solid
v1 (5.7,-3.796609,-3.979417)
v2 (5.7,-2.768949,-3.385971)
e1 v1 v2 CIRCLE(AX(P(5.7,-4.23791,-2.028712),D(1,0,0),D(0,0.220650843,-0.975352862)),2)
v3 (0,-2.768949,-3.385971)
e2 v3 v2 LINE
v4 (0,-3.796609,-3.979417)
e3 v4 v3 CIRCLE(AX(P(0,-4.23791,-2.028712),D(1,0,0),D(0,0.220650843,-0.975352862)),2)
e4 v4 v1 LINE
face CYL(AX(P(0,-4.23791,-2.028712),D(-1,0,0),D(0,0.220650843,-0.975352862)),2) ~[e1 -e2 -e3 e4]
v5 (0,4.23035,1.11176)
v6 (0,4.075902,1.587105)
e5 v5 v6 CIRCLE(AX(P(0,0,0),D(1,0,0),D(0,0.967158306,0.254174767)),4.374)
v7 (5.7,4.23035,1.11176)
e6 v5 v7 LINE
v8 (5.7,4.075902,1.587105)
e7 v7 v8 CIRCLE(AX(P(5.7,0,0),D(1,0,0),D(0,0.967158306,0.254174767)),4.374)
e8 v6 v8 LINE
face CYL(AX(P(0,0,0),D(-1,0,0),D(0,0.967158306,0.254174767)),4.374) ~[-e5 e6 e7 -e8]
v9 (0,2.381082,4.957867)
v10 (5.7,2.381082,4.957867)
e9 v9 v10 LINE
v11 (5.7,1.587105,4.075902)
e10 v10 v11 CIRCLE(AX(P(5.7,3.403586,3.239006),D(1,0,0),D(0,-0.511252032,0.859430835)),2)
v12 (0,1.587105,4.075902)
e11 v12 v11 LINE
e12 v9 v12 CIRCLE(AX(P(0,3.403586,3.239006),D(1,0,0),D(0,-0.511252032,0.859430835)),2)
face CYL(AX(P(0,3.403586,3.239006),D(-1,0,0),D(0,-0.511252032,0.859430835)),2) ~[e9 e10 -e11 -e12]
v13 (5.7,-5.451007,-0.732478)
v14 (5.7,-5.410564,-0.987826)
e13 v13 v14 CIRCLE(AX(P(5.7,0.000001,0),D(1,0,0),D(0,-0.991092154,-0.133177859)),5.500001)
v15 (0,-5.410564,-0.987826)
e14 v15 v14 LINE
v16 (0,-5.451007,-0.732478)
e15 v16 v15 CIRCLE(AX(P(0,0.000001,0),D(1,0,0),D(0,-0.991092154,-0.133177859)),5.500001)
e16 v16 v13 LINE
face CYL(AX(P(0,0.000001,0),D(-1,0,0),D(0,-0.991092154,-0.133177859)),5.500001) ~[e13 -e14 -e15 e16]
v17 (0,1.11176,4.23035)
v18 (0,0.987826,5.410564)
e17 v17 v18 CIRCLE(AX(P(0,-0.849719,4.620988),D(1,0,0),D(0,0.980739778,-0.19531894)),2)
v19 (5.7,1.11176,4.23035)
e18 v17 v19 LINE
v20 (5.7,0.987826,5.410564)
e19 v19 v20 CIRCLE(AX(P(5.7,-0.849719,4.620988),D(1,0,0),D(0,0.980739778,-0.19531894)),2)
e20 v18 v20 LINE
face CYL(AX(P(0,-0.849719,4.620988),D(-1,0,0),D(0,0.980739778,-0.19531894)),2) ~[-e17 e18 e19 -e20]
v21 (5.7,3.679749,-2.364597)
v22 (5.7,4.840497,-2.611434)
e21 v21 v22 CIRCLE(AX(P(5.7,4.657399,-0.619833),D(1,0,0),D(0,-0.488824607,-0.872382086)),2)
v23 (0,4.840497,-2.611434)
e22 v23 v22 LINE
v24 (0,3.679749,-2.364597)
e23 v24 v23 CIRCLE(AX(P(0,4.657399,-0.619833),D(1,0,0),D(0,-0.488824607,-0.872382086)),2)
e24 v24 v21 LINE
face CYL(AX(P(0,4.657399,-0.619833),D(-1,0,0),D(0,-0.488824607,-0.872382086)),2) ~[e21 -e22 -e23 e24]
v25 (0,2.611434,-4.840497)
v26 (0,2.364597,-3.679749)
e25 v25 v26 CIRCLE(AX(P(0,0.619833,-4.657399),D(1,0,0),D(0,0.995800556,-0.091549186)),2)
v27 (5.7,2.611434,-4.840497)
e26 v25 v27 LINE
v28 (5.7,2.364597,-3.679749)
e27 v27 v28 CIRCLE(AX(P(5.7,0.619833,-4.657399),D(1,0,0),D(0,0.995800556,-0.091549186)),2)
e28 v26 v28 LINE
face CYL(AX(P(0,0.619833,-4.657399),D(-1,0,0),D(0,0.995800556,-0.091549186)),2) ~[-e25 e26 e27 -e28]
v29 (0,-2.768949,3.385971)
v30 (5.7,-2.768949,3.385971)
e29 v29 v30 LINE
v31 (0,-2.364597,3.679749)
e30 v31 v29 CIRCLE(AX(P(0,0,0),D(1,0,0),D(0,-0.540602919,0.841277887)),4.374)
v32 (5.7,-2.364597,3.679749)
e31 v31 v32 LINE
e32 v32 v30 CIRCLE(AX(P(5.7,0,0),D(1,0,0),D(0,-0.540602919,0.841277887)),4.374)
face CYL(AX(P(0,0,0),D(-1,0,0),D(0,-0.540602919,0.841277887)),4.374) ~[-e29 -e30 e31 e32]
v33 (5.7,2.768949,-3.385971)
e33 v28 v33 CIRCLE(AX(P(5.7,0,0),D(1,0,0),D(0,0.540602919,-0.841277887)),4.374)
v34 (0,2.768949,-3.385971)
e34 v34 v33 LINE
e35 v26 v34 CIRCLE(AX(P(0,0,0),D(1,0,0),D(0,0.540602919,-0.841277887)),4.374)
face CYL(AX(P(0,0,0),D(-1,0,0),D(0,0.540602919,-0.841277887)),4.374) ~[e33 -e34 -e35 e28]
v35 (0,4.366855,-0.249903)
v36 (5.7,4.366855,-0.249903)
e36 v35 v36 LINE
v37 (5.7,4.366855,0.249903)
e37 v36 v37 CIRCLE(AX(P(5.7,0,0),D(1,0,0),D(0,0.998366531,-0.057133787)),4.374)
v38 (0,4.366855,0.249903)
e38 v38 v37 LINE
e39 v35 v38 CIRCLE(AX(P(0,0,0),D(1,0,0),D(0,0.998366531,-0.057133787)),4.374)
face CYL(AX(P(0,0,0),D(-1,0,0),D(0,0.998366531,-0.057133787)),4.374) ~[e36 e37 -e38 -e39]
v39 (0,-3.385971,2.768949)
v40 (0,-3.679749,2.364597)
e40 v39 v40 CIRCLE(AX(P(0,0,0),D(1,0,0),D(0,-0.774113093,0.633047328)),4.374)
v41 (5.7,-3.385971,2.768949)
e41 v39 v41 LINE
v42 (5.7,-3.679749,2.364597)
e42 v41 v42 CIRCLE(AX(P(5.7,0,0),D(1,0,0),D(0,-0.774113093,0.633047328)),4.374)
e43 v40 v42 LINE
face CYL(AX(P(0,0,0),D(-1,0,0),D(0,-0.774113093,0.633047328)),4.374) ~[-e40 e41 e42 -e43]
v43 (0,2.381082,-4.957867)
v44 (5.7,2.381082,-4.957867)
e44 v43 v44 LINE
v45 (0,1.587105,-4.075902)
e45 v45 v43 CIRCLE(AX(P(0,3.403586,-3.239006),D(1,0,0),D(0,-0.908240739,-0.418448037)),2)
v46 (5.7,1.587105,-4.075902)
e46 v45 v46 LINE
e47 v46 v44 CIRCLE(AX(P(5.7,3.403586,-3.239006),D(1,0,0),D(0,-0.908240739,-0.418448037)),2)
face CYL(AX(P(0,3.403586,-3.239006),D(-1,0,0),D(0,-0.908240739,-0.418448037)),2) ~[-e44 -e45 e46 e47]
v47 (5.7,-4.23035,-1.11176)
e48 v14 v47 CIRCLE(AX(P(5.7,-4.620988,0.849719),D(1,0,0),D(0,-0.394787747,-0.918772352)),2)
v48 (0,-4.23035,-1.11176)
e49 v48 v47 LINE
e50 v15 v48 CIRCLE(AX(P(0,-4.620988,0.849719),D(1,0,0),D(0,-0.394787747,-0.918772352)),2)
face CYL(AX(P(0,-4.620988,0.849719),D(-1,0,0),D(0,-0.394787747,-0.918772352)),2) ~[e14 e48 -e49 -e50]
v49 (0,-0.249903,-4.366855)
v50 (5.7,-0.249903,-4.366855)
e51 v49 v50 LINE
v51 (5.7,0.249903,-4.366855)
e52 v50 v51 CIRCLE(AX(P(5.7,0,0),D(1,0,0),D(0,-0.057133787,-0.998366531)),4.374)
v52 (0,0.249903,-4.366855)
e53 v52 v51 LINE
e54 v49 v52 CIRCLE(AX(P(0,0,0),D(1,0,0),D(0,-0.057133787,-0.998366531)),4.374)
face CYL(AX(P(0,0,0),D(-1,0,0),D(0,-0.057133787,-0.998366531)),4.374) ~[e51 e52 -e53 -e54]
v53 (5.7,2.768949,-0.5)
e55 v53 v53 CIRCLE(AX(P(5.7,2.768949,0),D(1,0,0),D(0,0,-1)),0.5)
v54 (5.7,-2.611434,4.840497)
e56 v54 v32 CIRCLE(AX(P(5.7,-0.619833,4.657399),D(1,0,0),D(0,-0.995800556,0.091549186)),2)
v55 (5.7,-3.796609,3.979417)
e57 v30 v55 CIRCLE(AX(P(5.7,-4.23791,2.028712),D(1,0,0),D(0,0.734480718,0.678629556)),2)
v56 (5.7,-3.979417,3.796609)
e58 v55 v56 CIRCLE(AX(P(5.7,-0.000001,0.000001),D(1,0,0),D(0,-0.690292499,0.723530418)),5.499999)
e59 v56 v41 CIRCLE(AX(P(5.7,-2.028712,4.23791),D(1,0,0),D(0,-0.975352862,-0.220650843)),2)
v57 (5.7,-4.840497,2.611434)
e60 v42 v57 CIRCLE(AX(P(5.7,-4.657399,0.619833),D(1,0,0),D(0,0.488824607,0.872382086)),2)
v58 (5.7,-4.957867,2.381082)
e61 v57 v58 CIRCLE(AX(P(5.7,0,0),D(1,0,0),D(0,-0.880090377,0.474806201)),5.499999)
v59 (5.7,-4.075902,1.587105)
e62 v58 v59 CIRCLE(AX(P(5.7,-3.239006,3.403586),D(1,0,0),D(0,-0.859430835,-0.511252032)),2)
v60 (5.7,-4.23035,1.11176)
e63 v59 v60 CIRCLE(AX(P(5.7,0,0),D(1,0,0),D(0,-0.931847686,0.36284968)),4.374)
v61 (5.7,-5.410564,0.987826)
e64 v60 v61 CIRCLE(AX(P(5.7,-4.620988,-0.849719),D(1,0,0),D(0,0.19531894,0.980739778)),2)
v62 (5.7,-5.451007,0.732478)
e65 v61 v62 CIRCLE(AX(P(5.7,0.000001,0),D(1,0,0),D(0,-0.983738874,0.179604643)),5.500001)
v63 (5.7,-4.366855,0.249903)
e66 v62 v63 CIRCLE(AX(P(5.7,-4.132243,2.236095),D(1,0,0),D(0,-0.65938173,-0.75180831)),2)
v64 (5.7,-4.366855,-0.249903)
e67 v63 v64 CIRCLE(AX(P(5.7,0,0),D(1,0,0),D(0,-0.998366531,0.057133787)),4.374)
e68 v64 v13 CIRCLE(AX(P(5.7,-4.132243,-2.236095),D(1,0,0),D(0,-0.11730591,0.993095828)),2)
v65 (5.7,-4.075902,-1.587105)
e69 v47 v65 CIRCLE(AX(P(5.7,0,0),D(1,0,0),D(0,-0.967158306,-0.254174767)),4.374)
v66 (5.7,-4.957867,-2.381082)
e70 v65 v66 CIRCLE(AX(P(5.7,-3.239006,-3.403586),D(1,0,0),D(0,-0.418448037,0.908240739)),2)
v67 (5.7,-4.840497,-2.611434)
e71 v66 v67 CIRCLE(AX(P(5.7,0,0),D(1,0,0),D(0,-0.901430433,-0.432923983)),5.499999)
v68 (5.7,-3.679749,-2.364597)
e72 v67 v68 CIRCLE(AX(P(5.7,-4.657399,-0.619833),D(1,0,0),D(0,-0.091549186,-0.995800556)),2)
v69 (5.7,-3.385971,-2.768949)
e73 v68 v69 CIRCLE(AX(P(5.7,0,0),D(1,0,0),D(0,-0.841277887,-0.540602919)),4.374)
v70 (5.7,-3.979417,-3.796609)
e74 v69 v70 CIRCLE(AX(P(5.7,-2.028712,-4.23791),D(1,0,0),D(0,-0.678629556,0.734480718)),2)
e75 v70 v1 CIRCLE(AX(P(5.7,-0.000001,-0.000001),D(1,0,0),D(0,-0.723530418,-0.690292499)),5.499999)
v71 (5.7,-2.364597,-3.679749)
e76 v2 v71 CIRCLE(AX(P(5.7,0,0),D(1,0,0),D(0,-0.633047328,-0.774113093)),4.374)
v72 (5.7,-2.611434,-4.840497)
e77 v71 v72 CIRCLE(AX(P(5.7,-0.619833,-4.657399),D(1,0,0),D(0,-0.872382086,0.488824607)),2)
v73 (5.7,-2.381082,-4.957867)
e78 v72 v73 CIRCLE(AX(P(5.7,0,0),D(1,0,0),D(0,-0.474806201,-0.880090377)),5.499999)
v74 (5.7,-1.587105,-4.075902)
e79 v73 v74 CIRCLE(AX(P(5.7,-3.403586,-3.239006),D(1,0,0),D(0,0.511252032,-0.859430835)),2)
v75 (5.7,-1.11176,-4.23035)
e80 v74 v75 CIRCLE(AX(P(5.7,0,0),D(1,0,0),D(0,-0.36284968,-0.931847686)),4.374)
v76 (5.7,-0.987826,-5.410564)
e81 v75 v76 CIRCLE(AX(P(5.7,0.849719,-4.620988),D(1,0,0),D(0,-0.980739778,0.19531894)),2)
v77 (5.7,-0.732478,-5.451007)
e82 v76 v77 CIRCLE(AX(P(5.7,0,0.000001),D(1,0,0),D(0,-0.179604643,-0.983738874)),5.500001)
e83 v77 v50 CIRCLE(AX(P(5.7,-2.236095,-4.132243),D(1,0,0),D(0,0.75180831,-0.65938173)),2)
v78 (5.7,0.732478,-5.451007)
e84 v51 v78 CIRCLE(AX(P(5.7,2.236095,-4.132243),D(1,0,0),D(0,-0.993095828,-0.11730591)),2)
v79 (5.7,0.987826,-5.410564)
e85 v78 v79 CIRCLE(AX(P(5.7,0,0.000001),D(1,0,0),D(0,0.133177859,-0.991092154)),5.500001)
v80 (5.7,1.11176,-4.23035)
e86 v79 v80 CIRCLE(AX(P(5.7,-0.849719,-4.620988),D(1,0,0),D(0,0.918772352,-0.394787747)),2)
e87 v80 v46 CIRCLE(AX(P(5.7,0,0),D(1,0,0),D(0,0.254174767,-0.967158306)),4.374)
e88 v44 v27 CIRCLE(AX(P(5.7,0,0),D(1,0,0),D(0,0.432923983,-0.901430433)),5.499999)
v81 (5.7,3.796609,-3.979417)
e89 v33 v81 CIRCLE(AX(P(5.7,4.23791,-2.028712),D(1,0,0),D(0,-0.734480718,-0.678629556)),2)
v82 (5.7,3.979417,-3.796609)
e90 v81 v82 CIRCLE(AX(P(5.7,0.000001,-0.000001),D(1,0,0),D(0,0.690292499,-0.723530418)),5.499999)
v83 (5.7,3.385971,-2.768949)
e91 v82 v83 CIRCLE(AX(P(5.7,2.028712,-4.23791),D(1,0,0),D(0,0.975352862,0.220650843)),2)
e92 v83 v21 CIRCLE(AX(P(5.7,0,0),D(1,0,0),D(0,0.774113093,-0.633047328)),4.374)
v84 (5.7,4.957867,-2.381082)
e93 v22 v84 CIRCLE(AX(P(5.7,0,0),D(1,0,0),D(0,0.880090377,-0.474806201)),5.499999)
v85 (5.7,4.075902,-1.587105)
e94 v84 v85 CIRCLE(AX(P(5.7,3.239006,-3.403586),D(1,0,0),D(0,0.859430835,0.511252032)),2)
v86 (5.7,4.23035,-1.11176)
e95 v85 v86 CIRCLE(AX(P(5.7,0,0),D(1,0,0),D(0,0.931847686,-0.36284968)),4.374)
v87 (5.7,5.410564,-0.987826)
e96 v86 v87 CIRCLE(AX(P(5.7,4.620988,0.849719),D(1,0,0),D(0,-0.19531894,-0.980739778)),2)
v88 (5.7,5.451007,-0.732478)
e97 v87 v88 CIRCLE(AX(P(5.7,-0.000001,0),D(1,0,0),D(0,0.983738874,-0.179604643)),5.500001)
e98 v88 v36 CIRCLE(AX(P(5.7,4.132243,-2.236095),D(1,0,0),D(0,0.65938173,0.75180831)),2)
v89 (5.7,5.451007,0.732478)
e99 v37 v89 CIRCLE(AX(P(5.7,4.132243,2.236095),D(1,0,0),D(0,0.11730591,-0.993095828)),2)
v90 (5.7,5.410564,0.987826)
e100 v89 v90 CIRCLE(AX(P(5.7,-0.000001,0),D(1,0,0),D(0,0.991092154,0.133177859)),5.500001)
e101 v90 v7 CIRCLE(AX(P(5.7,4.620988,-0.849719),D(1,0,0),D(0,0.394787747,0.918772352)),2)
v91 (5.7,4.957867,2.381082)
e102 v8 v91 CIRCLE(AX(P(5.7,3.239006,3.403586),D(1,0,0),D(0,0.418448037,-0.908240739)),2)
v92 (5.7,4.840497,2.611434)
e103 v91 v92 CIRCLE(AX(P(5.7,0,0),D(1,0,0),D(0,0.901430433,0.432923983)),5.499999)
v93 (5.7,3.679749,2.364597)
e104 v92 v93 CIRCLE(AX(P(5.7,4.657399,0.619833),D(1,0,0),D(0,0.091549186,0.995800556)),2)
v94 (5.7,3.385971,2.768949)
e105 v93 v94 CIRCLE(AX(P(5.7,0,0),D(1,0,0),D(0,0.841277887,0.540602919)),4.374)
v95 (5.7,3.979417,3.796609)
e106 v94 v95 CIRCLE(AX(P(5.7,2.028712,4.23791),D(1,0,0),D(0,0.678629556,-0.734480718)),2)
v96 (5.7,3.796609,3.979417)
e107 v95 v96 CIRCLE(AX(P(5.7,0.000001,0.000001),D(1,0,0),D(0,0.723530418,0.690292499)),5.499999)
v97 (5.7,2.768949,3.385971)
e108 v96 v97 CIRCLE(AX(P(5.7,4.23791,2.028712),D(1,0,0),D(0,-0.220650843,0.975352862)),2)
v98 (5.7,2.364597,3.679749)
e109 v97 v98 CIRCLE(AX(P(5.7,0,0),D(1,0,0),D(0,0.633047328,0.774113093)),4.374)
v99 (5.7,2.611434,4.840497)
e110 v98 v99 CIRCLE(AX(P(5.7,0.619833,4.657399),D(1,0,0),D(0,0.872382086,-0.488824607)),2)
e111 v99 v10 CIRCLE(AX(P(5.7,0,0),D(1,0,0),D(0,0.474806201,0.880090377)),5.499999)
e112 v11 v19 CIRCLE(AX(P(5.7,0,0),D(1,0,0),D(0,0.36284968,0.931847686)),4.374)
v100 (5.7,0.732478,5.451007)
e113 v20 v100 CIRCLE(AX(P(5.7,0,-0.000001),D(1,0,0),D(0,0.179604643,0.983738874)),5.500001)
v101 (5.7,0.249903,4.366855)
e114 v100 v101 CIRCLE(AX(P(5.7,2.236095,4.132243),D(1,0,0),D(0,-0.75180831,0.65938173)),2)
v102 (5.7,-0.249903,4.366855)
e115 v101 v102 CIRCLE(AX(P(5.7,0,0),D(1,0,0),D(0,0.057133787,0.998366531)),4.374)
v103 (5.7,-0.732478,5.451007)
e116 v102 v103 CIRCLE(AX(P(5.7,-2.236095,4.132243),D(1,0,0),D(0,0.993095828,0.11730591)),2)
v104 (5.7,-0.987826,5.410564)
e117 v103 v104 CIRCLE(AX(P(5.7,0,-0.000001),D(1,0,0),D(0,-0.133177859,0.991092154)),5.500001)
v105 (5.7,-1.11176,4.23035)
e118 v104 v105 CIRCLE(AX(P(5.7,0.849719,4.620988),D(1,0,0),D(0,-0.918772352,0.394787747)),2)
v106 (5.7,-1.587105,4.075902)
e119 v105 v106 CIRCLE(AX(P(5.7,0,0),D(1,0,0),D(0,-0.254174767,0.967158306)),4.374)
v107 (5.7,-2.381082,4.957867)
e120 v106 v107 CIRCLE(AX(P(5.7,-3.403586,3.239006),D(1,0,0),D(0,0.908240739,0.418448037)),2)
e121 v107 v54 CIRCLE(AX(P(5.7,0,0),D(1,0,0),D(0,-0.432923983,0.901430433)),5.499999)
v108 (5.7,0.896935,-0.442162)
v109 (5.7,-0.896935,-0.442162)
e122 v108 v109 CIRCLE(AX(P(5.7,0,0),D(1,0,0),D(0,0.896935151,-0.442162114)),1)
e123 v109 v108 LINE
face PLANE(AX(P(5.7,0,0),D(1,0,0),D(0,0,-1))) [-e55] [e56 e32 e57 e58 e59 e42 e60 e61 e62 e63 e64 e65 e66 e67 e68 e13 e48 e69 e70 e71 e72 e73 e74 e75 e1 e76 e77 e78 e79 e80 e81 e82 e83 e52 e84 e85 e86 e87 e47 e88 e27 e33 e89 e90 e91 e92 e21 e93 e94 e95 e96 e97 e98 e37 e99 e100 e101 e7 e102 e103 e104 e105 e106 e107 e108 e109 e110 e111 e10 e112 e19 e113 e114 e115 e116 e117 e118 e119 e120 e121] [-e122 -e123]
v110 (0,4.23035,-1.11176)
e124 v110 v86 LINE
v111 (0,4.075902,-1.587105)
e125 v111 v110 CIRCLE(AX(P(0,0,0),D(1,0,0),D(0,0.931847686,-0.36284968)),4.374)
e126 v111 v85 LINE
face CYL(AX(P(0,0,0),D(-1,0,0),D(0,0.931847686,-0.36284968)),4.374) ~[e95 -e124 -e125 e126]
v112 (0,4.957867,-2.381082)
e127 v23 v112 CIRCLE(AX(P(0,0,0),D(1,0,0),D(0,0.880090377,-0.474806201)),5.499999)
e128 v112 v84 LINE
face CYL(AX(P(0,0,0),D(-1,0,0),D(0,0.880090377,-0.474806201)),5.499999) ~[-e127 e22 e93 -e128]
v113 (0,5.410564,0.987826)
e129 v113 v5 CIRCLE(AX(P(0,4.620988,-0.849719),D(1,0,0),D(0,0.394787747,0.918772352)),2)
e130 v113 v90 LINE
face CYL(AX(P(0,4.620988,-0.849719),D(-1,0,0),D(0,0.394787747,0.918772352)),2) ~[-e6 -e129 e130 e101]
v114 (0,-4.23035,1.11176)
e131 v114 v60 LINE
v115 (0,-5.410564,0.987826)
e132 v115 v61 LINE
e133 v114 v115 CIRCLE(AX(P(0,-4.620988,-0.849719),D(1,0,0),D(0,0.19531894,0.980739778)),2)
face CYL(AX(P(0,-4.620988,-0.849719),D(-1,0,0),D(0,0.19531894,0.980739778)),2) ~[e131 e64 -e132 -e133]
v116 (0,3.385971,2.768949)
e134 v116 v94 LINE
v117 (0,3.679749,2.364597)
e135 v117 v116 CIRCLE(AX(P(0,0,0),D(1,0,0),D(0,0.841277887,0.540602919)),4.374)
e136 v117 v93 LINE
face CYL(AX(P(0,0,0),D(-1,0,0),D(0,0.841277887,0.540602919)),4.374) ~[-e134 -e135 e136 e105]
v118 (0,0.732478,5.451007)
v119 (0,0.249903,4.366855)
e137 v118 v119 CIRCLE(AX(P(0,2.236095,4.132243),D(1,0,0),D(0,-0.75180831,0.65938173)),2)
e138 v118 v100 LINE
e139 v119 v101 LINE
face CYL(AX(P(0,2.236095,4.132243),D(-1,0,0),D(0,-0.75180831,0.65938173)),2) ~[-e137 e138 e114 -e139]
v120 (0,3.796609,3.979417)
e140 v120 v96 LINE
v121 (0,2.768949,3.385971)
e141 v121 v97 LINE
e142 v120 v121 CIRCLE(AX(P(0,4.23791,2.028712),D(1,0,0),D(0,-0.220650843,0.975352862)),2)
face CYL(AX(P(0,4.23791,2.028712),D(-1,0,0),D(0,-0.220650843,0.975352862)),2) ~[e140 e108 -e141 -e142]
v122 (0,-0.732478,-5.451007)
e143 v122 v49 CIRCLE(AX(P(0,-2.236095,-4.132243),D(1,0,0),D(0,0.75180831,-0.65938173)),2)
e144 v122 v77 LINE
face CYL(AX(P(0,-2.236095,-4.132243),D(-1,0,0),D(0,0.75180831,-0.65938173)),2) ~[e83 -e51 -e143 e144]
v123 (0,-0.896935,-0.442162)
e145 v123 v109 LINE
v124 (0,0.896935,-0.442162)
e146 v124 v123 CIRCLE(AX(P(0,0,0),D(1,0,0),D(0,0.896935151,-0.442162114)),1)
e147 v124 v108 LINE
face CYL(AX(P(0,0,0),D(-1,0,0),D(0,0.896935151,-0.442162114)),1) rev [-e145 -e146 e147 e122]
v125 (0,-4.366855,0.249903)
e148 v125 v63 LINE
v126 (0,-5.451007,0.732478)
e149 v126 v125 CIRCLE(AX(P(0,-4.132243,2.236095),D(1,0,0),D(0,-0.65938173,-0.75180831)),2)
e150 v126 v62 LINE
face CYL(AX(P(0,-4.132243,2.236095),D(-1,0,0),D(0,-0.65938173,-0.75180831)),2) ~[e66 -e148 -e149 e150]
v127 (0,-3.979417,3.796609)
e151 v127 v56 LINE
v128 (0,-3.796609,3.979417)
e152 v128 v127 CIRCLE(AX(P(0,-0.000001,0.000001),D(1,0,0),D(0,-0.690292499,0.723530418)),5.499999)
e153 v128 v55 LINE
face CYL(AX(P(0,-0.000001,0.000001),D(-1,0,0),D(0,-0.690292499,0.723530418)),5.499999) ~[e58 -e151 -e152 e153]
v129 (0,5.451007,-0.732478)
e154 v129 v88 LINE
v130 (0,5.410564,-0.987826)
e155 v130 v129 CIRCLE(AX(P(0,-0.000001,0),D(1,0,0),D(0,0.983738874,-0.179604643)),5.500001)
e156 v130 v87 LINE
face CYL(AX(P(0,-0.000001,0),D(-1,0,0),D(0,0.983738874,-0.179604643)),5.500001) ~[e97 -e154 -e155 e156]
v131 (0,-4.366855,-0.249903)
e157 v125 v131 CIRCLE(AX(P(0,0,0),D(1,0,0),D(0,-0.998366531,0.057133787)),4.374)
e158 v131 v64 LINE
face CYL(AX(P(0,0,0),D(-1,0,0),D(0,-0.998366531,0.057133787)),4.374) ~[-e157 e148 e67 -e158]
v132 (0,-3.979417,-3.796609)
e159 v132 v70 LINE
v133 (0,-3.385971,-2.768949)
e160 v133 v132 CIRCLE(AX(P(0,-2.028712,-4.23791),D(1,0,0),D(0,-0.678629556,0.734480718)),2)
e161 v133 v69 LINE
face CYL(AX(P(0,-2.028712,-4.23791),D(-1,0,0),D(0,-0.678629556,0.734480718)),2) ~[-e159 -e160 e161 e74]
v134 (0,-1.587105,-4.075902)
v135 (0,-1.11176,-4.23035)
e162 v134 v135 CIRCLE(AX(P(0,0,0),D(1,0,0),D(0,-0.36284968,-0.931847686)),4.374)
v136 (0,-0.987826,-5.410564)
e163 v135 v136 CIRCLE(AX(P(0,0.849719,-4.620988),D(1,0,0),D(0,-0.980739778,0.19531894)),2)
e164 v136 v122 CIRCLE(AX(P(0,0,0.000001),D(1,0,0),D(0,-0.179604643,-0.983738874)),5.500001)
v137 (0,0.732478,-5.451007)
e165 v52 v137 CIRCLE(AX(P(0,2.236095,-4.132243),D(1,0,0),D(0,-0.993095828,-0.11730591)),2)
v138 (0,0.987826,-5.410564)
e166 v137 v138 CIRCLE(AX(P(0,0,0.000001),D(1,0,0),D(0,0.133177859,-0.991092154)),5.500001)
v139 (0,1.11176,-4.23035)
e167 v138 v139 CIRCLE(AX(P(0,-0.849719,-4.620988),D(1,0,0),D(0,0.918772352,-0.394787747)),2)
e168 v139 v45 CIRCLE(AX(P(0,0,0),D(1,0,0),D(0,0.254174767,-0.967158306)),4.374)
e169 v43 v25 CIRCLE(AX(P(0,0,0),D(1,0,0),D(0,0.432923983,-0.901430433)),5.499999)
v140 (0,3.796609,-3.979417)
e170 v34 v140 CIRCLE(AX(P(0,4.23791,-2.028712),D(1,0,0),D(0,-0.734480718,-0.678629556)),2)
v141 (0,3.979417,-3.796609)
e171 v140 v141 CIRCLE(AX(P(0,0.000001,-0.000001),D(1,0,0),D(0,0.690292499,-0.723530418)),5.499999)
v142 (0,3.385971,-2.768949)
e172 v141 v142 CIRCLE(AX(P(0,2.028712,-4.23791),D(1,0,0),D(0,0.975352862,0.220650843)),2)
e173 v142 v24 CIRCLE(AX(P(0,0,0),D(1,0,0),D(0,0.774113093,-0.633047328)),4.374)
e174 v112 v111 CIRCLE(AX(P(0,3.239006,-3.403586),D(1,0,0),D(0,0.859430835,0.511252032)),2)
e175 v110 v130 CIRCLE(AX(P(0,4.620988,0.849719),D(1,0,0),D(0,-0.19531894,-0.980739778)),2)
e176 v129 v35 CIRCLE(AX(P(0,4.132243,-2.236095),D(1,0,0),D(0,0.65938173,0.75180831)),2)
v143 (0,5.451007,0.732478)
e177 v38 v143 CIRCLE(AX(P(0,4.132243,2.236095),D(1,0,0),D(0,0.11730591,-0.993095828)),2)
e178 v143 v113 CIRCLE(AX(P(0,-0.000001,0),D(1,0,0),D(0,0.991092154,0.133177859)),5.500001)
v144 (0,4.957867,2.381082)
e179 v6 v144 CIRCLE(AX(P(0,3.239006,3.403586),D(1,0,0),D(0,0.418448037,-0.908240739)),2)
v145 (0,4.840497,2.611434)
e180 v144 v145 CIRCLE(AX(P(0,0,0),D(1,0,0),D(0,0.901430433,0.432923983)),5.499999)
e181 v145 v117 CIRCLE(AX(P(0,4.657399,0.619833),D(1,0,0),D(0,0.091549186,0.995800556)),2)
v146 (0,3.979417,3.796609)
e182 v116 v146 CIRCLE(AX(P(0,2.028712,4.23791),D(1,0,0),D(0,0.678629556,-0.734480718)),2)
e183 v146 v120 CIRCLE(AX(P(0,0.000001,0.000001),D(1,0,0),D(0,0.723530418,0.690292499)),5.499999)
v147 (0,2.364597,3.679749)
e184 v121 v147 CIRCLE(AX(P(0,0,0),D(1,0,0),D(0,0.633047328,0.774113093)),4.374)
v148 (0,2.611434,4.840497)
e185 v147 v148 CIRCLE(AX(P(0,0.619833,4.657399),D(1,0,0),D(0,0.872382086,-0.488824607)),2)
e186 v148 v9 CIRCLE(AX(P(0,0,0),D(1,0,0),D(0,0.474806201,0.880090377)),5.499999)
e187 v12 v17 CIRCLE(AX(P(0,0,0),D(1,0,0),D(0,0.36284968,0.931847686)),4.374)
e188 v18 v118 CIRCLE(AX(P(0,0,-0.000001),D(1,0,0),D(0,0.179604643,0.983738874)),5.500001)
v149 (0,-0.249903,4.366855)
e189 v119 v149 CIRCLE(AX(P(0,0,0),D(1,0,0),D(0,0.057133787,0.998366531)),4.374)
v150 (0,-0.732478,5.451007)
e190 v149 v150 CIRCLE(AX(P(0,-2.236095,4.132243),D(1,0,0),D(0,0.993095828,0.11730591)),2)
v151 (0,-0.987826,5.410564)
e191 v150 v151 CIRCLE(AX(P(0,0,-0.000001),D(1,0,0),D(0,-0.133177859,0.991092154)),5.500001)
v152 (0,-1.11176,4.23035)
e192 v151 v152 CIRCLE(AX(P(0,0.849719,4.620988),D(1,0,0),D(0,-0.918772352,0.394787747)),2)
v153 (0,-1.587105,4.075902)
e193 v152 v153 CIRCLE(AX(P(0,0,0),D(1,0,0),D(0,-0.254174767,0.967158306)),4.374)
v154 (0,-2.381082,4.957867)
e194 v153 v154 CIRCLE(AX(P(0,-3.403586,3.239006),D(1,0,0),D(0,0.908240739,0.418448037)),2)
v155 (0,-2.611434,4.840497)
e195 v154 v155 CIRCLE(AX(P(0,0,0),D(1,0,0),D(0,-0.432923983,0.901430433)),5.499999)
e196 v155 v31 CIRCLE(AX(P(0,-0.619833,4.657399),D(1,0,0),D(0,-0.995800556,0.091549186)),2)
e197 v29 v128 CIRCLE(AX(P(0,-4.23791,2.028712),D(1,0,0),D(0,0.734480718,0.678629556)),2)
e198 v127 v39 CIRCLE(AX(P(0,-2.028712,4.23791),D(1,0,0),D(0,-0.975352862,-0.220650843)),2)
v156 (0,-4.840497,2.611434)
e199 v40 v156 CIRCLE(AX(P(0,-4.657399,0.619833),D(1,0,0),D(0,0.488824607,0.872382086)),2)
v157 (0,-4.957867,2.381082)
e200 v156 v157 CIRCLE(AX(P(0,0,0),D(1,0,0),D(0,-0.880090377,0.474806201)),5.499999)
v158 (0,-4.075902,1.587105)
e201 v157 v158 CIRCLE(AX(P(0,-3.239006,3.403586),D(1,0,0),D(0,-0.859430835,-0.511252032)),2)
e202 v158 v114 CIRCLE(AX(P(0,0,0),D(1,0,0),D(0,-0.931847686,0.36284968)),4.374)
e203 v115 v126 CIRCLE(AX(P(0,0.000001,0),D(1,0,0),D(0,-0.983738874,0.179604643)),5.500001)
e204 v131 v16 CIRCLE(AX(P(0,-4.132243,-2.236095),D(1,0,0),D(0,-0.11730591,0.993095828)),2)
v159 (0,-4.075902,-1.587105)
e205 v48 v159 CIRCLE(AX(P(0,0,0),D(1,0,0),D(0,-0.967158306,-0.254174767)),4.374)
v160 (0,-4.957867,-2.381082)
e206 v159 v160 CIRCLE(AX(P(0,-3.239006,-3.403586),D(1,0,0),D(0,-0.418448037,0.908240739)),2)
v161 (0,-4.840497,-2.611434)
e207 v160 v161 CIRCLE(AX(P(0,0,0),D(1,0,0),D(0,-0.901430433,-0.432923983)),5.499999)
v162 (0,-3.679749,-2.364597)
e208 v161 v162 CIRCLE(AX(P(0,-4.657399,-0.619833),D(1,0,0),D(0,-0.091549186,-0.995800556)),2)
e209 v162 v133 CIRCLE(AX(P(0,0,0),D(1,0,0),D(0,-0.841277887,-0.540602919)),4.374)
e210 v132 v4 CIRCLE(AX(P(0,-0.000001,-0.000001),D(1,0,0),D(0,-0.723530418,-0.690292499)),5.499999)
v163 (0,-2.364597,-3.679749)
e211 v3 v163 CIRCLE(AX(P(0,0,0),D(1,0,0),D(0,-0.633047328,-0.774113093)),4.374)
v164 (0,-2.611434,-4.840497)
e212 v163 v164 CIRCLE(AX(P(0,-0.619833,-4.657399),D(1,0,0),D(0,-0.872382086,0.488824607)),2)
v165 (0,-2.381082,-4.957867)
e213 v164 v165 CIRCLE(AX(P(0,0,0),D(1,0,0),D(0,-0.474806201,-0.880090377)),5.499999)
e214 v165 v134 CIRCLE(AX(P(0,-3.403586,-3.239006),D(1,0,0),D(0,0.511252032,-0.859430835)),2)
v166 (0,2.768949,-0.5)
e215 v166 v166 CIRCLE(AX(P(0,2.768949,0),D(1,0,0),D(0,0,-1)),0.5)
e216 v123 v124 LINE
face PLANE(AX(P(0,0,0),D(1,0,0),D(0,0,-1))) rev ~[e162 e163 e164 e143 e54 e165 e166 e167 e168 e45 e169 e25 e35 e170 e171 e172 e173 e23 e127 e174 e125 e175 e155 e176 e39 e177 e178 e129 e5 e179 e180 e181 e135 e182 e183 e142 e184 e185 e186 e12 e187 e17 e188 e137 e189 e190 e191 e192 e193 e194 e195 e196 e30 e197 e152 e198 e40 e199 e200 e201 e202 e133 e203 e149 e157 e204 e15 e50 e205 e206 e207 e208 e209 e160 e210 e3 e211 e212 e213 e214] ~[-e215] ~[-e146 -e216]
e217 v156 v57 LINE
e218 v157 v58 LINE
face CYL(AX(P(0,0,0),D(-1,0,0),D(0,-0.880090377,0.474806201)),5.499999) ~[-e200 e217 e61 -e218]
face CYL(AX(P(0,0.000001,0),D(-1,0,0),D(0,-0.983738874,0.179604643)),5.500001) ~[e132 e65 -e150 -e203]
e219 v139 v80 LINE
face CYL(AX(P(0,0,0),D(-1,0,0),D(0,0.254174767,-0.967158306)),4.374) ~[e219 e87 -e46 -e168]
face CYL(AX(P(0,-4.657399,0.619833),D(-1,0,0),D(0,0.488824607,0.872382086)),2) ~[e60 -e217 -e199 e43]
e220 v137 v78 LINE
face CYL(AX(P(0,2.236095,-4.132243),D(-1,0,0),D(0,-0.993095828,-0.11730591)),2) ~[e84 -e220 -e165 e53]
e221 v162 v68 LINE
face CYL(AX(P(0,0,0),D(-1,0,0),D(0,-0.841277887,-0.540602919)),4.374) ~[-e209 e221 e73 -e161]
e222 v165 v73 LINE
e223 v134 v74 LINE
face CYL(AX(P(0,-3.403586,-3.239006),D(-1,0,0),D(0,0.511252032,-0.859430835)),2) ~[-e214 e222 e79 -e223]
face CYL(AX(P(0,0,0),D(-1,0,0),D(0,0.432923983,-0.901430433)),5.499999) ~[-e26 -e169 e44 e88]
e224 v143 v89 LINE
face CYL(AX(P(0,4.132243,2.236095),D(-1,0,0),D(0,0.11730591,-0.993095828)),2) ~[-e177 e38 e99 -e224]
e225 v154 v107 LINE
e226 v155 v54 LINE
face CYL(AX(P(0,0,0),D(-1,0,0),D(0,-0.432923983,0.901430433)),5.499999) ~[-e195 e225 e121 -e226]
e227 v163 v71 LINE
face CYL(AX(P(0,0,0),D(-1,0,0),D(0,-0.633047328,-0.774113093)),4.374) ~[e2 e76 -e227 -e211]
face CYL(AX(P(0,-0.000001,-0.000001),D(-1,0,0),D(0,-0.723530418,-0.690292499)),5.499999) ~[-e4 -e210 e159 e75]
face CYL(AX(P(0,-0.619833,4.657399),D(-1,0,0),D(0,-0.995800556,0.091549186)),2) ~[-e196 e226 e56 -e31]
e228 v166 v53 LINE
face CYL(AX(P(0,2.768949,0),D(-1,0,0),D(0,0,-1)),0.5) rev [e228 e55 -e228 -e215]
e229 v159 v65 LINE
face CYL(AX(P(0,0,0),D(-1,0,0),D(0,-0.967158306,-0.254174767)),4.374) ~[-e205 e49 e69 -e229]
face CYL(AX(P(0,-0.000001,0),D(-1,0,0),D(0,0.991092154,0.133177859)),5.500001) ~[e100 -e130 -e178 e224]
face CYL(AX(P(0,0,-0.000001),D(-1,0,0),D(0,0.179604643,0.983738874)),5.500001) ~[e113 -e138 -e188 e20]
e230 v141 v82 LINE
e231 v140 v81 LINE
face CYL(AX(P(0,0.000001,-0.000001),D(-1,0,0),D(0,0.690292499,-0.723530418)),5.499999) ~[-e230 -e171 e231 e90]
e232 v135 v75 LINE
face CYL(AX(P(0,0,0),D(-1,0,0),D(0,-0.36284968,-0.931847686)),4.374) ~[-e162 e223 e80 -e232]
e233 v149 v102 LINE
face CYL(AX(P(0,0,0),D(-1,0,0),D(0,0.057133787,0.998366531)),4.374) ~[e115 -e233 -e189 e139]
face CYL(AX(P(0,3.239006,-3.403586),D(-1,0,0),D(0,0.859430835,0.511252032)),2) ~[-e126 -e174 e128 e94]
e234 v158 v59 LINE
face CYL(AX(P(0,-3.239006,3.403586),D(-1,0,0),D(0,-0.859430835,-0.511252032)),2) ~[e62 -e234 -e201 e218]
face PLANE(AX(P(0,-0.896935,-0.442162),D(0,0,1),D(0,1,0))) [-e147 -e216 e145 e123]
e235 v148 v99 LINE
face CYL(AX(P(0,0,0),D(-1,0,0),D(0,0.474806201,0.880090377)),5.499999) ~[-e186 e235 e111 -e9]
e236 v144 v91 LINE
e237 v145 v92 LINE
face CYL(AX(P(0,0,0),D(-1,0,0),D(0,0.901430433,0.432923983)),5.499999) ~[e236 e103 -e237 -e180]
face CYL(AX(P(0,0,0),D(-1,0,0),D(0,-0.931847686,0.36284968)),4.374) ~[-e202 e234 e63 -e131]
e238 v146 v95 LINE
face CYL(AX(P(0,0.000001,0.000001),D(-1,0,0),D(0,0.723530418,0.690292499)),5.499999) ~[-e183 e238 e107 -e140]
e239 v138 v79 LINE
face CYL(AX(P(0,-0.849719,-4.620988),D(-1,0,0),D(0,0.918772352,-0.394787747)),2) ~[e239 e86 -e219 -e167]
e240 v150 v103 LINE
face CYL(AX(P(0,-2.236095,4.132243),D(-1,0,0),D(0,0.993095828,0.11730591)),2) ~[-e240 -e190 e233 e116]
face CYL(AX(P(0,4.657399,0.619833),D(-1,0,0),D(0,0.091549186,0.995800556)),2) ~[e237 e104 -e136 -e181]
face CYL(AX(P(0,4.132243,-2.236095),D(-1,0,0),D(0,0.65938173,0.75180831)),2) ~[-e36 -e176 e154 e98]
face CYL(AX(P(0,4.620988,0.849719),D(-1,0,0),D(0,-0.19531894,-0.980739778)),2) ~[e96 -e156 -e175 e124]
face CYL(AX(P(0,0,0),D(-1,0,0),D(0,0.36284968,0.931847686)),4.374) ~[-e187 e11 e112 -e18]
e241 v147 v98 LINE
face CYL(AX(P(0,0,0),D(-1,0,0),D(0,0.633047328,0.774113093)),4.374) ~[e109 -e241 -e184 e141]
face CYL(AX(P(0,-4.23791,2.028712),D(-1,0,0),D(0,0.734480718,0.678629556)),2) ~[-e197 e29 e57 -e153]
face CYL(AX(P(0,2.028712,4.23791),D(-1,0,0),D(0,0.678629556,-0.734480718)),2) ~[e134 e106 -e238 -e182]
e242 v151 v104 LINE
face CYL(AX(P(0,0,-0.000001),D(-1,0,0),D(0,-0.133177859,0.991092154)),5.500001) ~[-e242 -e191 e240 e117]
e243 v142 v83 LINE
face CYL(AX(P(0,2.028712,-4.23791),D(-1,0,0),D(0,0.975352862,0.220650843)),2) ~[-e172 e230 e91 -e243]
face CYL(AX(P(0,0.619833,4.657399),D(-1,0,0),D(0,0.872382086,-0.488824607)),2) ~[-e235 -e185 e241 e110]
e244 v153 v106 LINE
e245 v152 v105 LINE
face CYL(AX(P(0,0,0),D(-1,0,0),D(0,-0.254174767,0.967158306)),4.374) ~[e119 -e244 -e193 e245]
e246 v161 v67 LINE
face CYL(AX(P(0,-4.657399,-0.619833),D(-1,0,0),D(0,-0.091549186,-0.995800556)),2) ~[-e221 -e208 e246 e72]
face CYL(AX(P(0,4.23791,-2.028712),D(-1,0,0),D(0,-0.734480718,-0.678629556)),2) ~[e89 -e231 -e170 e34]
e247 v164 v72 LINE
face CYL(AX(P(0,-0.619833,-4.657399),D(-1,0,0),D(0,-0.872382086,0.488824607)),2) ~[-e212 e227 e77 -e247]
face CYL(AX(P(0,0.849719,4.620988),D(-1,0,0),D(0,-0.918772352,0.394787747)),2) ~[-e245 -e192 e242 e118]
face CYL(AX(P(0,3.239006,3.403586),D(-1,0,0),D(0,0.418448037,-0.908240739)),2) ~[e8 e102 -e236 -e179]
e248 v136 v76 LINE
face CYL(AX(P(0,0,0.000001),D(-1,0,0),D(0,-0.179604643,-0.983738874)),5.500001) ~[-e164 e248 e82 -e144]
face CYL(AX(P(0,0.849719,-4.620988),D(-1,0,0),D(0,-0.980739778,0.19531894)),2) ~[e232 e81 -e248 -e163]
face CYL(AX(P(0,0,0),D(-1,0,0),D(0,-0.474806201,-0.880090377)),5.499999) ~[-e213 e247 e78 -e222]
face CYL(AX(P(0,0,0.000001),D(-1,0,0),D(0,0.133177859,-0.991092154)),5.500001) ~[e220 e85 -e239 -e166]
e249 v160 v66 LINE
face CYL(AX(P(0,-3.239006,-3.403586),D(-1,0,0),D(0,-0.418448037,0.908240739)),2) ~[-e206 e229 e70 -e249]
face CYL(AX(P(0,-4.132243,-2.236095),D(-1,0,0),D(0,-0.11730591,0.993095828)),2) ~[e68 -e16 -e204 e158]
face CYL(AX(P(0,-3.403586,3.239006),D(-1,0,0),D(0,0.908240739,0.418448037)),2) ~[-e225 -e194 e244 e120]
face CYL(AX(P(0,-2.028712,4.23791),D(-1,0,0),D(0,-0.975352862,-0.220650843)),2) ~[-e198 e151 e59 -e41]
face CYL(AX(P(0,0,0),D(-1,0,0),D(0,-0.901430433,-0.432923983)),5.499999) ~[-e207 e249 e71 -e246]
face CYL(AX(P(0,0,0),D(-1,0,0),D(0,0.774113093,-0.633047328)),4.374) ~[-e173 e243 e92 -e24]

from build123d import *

# Parameters (mm, degrees)
SKETCH_7_R      = 0.5
EXTRUDE_3_DEPTH = 5.7


with BuildPart() as part:
    # 草图7 → 凸台-拉伸3 (new body)
    with BuildSketch(Plane(origin=(0, 0, 0), x_dir=(0, 0, -1), z_dir=(1, 0, 0))):
        with BuildLine():
            ThreePointArc((-5.451006848, 0.732478218), (-4.945547363, 0.408928549), (-4.366855207, 0.249903181))
            ThreePointArc((-4.366855207, 0.249903181), (-4.374, 0), (-4.366855207, -0.249903181))
            ThreePointArc((-4.366855207, -0.249903181), (-4.945547363, -0.408928549), (-5.451006848, -0.732478218))
            ThreePointArc((-5.451006848, -0.732478218), (-5.432285873, -0.860389558), (-5.410563801, -0.987825571))
            ThreePointArc((-5.410563801, -0.987825571), (-4.829860918, -1.139344021), (-4.23035043, -1.111760422))
            ThreePointArc((-4.23035043, -1.111760422), (-4.159921202, -1.351640333), (-4.075901771, -1.58710452))
            ThreePointArc((-4.075901771, -1.58710452), (-4.577129176, -1.917172343), (-4.957867366, -2.381081934))
            ThreePointArc((-4.957867366, -2.381081934), (-4.900535883, -2.496947749), (-4.840497071, -2.61143411))
            ThreePointArc((-4.840497071, -2.61143411), (-4.241394034, -2.576089659), (-3.679749479, -2.364597169))
            ThreePointArc((-3.679749479, -2.364597169), (-3.538640333, -2.570972694), (-3.38597067, -2.76894901))
            ThreePointArc((-3.38597067, -2.76894901), (-3.760669693, -3.23774995), (-3.979417283, -3.796608762))
            ThreePointArc((-3.979417283, -3.796608762), (-3.889087297, -3.889087297), (-3.796608762, -3.979417283))
            ThreePointArc((-3.796608762, -3.979417283), (-3.23774995, -3.760669693), (-2.76894901, -3.38597067))
            ThreePointArc((-2.76894901, -3.38597067), (-2.570972694, -3.538640333), (-2.364597169, -3.679749479))
            ThreePointArc((-2.364597169, -3.679749479), (-2.576089659, -4.241394034), (-2.61143411, -4.840497071))
            ThreePointArc((-2.61143411, -4.840497071), (-2.496947749, -4.900535883), (-2.381081934, -4.957867366))
            ThreePointArc((-2.381081934, -4.957867366), (-1.917172343, -4.577129176), (-1.58710452, -4.075901771))
            ThreePointArc((-1.58710452, -4.075901771), (-1.351640333, -4.159921202), (-1.111760422, -4.23035043))
            ThreePointArc((-1.111760422, -4.23035043), (-1.139344021, -4.829860918), (-0.987825571, -5.410563801))
            ThreePointArc((-0.987825571, -5.410563801), (-0.860389558, -5.432285873), (-0.732478218, -5.451006848))
            ThreePointArc((-0.732478218, -5.451006848), (-0.408928549, -4.945547363), (-0.249903181, -4.366855207))
            ThreePointArc((-0.249903181, -4.366855207), (0, -4.374), (0.249903181, -4.366855207))
            ThreePointArc((0.249903181, -4.366855207), (0.408928549, -4.945547363), (0.732478218, -5.451006848))
            ThreePointArc((0.732478218, -5.451006848), (0.860389558, -5.432285873), (0.987825571, -5.410563801))
            ThreePointArc((0.987825571, -5.410563801), (1.139344021, -4.829860918), (1.111760422, -4.23035043))
            ThreePointArc((1.111760422, -4.23035043), (1.351640333, -4.159921202), (1.58710452, -4.075901771))
            ThreePointArc((1.58710452, -4.075901771), (1.917172343, -4.577129176), (2.381081934, -4.957867366))
            ThreePointArc((2.381081934, -4.957867366), (2.496947749, -4.900535883), (2.61143411, -4.840497071))
            ThreePointArc((2.61143411, -4.840497071), (2.576089659, -4.241394034), (2.364597169, -3.679749479))
            ThreePointArc((2.364597169, -3.679749479), (2.570972694, -3.538640333), (2.76894901, -3.38597067))
            ThreePointArc((2.76894901, -3.38597067), (3.23774995, -3.760669693), (3.796608762, -3.979417283))
            ThreePointArc((3.796608762, -3.979417283), (3.889087297, -3.889087297), (3.979417283, -3.796608762))
            ThreePointArc((3.979417283, -3.796608762), (3.760669693, -3.23774995), (3.38597067, -2.76894901))
            ThreePointArc((3.38597067, -2.76894901), (3.538640333, -2.570972694), (3.679749479, -2.364597169))
            ThreePointArc((3.679749479, -2.364597169), (4.241394034, -2.576089659), (4.840497071, -2.61143411))
            ThreePointArc((4.840497071, -2.61143411), (4.900535883, -2.496947749), (4.957867366, -2.381081934))
            ThreePointArc((4.957867366, -2.381081934), (4.577129176, -1.917172343), (4.075901771, -1.58710452))
            ThreePointArc((4.075901771, -1.58710452), (4.159921202, -1.351640333), (4.23035043, -1.111760422))
            ThreePointArc((4.23035043, -1.111760422), (4.829860918, -1.139344021), (5.410563801, -0.987825571))
            ThreePointArc((5.410563801, -0.987825571), (5.432285873, -0.860389558), (5.451006848, -0.732478218))
            ThreePointArc((5.451006848, -0.732478218), (4.945547363, -0.408928549), (4.366855207, -0.249903181))
            ThreePointArc((4.366855207, -0.249903181), (4.374, 0), (4.366855207, 0.249903181))
            ThreePointArc((4.366855207, 0.249903181), (4.945547363, 0.408928549), (5.451006848, 0.732478218))
            ThreePointArc((5.451006848, 0.732478218), (5.432285873, 0.860389558), (5.410563801, 0.987825571))
            ThreePointArc((5.410563801, 0.987825571), (4.829860918, 1.139344021), (4.23035043, 1.111760422))
            ThreePointArc((4.23035043, 1.111760422), (4.159921202, 1.351640333), (4.075901771, 1.58710452))
            ThreePointArc((4.075901771, 1.58710452), (4.577129176, 1.917172343), (4.957867366, 2.381081934))
            ThreePointArc((4.957867366, 2.381081934), (4.900535883, 2.496947749), (4.840497071, 2.61143411))
            ThreePointArc((4.840497071, 2.61143411), (4.241394034, 2.576089659), (3.679749479, 2.364597169))
            ThreePointArc((3.679749479, 2.364597169), (3.538640333, 2.570972694), (3.38597067, 2.76894901))
            ThreePointArc((3.38597067, 2.76894901), (3.760669693, 3.23774995), (3.979417283, 3.796608762))
            ThreePointArc((3.979417283, 3.796608762), (3.889087297, 3.889087297), (3.796608762, 3.979417283))
            ThreePointArc((3.796608762, 3.979417283), (3.23774995, 3.760669693), (2.76894901, 3.38597067))
            ThreePointArc((2.76894901, 3.38597067), (2.570972694, 3.538640333), (2.364597169, 3.679749479))
            ThreePointArc((2.364597169, 3.679749479), (2.576089659, 4.241394034), (2.61143411, 4.840497071))
            ThreePointArc((2.61143411, 4.840497071), (2.496947749, 4.900535883), (2.381081934, 4.957867366))
            ThreePointArc((2.381081934, 4.957867366), (1.917172343, 4.577129176), (1.58710452, 4.075901771))
            ThreePointArc((1.58710452, 4.075901771), (1.351640333, 4.159921202), (1.111760422, 4.23035043))
            ThreePointArc((1.111760422, 4.23035043), (1.139344021, 4.829860918), (0.987825571, 5.410563801))
            ThreePointArc((0.987825571, 5.410563801), (0.860389558, 5.432285873), (0.732478218, 5.451006848))
            ThreePointArc((0.732478218, 5.451006848), (0.408928549, 4.945547363), (0.249903181, 4.366855207))
            ThreePointArc((0.249903181, 4.366855207), (0, 4.374), (-0.249903181, 4.366855207))
            ThreePointArc((-0.249903181, 4.366855207), (-0.408928549, 4.945547363), (-0.732478218, 5.451006848))
            ThreePointArc((-0.732478218, 5.451006848), (-0.860389558, 5.432285873), (-0.987825571, 5.410563801))
            ThreePointArc((-0.987825571, 5.410563801), (-1.139344021, 4.829860918), (-1.111760422, 4.23035043))
            ThreePointArc((-1.111760422, 4.23035043), (-1.351640333, 4.159921202), (-1.58710452, 4.075901771))
            ThreePointArc((-1.58710452, 4.075901771), (-1.917172343, 4.577129176), (-2.381081934, 4.957867366))
            ThreePointArc((-2.381081934, 4.957867366), (-2.496947749, 4.900535883), (-2.61143411, 4.840497071))
            ThreePointArc((-2.61143411, 4.840497071), (-2.576089659, 4.241394034), (-2.364597169, 3.679749479))
            ThreePointArc((-2.364597169, 3.679749479), (-2.570972694, 3.538640333), (-2.76894901, 3.38597067))
            ThreePointArc((-2.76894901, 3.38597067), (-3.23774995, 3.760669693), (-3.796608762, 3.979417283))
            ThreePointArc((-3.796608762, 3.979417283), (-3.889087297, 3.889087297), (-3.979417283, 3.796608762))
            ThreePointArc((-3.979417283, 3.796608762), (-3.760669693, 3.23774995), (-3.38597067, 2.76894901))
            ThreePointArc((-3.38597067, 2.76894901), (-3.538640333, 2.570972694), (-3.679749479, 2.364597169))
            ThreePointArc((-3.679749479, 2.364597169), (-4.241394034, 2.576089659), (-4.840497071, 2.61143411))
            ThreePointArc((-4.840497071, 2.61143411), (-4.900535883, 2.496947749), (-4.957867366, 2.381081934))
            ThreePointArc((-4.957867366, 2.381081934), (-4.577129176, 1.917172343), (-4.075901771, 1.58710452))
            ThreePointArc((-4.075901771, 1.58710452), (-4.159921202, 1.351640333), (-4.23035043, 1.111760422))
            ThreePointArc((-4.23035043, 1.111760422), (-4.829860918, 1.139344021), (-5.410563801, 0.987825571))
            ThreePointArc((-5.410563801, 0.987825571), (-5.432285873, 0.860389558), (-5.451006848, 0.732478218))
        make_face()
        with Locations((0, 2.76894901)):
            Circle(SKETCH_7_R, mode=Mode.SUBTRACT)
        with BuildLine():
            Line((0.442162115, -0.896935151), (0.442162115, 0.896935151))
            ThreePointArc((0.442162115, 0.896935151), (-1, 0), (0.442162115, -0.896935151))
        make_face(mode=Mode.SUBTRACT)
    extrude(amount=EXTRUDE_3_DEPTH)


solid = part.part
